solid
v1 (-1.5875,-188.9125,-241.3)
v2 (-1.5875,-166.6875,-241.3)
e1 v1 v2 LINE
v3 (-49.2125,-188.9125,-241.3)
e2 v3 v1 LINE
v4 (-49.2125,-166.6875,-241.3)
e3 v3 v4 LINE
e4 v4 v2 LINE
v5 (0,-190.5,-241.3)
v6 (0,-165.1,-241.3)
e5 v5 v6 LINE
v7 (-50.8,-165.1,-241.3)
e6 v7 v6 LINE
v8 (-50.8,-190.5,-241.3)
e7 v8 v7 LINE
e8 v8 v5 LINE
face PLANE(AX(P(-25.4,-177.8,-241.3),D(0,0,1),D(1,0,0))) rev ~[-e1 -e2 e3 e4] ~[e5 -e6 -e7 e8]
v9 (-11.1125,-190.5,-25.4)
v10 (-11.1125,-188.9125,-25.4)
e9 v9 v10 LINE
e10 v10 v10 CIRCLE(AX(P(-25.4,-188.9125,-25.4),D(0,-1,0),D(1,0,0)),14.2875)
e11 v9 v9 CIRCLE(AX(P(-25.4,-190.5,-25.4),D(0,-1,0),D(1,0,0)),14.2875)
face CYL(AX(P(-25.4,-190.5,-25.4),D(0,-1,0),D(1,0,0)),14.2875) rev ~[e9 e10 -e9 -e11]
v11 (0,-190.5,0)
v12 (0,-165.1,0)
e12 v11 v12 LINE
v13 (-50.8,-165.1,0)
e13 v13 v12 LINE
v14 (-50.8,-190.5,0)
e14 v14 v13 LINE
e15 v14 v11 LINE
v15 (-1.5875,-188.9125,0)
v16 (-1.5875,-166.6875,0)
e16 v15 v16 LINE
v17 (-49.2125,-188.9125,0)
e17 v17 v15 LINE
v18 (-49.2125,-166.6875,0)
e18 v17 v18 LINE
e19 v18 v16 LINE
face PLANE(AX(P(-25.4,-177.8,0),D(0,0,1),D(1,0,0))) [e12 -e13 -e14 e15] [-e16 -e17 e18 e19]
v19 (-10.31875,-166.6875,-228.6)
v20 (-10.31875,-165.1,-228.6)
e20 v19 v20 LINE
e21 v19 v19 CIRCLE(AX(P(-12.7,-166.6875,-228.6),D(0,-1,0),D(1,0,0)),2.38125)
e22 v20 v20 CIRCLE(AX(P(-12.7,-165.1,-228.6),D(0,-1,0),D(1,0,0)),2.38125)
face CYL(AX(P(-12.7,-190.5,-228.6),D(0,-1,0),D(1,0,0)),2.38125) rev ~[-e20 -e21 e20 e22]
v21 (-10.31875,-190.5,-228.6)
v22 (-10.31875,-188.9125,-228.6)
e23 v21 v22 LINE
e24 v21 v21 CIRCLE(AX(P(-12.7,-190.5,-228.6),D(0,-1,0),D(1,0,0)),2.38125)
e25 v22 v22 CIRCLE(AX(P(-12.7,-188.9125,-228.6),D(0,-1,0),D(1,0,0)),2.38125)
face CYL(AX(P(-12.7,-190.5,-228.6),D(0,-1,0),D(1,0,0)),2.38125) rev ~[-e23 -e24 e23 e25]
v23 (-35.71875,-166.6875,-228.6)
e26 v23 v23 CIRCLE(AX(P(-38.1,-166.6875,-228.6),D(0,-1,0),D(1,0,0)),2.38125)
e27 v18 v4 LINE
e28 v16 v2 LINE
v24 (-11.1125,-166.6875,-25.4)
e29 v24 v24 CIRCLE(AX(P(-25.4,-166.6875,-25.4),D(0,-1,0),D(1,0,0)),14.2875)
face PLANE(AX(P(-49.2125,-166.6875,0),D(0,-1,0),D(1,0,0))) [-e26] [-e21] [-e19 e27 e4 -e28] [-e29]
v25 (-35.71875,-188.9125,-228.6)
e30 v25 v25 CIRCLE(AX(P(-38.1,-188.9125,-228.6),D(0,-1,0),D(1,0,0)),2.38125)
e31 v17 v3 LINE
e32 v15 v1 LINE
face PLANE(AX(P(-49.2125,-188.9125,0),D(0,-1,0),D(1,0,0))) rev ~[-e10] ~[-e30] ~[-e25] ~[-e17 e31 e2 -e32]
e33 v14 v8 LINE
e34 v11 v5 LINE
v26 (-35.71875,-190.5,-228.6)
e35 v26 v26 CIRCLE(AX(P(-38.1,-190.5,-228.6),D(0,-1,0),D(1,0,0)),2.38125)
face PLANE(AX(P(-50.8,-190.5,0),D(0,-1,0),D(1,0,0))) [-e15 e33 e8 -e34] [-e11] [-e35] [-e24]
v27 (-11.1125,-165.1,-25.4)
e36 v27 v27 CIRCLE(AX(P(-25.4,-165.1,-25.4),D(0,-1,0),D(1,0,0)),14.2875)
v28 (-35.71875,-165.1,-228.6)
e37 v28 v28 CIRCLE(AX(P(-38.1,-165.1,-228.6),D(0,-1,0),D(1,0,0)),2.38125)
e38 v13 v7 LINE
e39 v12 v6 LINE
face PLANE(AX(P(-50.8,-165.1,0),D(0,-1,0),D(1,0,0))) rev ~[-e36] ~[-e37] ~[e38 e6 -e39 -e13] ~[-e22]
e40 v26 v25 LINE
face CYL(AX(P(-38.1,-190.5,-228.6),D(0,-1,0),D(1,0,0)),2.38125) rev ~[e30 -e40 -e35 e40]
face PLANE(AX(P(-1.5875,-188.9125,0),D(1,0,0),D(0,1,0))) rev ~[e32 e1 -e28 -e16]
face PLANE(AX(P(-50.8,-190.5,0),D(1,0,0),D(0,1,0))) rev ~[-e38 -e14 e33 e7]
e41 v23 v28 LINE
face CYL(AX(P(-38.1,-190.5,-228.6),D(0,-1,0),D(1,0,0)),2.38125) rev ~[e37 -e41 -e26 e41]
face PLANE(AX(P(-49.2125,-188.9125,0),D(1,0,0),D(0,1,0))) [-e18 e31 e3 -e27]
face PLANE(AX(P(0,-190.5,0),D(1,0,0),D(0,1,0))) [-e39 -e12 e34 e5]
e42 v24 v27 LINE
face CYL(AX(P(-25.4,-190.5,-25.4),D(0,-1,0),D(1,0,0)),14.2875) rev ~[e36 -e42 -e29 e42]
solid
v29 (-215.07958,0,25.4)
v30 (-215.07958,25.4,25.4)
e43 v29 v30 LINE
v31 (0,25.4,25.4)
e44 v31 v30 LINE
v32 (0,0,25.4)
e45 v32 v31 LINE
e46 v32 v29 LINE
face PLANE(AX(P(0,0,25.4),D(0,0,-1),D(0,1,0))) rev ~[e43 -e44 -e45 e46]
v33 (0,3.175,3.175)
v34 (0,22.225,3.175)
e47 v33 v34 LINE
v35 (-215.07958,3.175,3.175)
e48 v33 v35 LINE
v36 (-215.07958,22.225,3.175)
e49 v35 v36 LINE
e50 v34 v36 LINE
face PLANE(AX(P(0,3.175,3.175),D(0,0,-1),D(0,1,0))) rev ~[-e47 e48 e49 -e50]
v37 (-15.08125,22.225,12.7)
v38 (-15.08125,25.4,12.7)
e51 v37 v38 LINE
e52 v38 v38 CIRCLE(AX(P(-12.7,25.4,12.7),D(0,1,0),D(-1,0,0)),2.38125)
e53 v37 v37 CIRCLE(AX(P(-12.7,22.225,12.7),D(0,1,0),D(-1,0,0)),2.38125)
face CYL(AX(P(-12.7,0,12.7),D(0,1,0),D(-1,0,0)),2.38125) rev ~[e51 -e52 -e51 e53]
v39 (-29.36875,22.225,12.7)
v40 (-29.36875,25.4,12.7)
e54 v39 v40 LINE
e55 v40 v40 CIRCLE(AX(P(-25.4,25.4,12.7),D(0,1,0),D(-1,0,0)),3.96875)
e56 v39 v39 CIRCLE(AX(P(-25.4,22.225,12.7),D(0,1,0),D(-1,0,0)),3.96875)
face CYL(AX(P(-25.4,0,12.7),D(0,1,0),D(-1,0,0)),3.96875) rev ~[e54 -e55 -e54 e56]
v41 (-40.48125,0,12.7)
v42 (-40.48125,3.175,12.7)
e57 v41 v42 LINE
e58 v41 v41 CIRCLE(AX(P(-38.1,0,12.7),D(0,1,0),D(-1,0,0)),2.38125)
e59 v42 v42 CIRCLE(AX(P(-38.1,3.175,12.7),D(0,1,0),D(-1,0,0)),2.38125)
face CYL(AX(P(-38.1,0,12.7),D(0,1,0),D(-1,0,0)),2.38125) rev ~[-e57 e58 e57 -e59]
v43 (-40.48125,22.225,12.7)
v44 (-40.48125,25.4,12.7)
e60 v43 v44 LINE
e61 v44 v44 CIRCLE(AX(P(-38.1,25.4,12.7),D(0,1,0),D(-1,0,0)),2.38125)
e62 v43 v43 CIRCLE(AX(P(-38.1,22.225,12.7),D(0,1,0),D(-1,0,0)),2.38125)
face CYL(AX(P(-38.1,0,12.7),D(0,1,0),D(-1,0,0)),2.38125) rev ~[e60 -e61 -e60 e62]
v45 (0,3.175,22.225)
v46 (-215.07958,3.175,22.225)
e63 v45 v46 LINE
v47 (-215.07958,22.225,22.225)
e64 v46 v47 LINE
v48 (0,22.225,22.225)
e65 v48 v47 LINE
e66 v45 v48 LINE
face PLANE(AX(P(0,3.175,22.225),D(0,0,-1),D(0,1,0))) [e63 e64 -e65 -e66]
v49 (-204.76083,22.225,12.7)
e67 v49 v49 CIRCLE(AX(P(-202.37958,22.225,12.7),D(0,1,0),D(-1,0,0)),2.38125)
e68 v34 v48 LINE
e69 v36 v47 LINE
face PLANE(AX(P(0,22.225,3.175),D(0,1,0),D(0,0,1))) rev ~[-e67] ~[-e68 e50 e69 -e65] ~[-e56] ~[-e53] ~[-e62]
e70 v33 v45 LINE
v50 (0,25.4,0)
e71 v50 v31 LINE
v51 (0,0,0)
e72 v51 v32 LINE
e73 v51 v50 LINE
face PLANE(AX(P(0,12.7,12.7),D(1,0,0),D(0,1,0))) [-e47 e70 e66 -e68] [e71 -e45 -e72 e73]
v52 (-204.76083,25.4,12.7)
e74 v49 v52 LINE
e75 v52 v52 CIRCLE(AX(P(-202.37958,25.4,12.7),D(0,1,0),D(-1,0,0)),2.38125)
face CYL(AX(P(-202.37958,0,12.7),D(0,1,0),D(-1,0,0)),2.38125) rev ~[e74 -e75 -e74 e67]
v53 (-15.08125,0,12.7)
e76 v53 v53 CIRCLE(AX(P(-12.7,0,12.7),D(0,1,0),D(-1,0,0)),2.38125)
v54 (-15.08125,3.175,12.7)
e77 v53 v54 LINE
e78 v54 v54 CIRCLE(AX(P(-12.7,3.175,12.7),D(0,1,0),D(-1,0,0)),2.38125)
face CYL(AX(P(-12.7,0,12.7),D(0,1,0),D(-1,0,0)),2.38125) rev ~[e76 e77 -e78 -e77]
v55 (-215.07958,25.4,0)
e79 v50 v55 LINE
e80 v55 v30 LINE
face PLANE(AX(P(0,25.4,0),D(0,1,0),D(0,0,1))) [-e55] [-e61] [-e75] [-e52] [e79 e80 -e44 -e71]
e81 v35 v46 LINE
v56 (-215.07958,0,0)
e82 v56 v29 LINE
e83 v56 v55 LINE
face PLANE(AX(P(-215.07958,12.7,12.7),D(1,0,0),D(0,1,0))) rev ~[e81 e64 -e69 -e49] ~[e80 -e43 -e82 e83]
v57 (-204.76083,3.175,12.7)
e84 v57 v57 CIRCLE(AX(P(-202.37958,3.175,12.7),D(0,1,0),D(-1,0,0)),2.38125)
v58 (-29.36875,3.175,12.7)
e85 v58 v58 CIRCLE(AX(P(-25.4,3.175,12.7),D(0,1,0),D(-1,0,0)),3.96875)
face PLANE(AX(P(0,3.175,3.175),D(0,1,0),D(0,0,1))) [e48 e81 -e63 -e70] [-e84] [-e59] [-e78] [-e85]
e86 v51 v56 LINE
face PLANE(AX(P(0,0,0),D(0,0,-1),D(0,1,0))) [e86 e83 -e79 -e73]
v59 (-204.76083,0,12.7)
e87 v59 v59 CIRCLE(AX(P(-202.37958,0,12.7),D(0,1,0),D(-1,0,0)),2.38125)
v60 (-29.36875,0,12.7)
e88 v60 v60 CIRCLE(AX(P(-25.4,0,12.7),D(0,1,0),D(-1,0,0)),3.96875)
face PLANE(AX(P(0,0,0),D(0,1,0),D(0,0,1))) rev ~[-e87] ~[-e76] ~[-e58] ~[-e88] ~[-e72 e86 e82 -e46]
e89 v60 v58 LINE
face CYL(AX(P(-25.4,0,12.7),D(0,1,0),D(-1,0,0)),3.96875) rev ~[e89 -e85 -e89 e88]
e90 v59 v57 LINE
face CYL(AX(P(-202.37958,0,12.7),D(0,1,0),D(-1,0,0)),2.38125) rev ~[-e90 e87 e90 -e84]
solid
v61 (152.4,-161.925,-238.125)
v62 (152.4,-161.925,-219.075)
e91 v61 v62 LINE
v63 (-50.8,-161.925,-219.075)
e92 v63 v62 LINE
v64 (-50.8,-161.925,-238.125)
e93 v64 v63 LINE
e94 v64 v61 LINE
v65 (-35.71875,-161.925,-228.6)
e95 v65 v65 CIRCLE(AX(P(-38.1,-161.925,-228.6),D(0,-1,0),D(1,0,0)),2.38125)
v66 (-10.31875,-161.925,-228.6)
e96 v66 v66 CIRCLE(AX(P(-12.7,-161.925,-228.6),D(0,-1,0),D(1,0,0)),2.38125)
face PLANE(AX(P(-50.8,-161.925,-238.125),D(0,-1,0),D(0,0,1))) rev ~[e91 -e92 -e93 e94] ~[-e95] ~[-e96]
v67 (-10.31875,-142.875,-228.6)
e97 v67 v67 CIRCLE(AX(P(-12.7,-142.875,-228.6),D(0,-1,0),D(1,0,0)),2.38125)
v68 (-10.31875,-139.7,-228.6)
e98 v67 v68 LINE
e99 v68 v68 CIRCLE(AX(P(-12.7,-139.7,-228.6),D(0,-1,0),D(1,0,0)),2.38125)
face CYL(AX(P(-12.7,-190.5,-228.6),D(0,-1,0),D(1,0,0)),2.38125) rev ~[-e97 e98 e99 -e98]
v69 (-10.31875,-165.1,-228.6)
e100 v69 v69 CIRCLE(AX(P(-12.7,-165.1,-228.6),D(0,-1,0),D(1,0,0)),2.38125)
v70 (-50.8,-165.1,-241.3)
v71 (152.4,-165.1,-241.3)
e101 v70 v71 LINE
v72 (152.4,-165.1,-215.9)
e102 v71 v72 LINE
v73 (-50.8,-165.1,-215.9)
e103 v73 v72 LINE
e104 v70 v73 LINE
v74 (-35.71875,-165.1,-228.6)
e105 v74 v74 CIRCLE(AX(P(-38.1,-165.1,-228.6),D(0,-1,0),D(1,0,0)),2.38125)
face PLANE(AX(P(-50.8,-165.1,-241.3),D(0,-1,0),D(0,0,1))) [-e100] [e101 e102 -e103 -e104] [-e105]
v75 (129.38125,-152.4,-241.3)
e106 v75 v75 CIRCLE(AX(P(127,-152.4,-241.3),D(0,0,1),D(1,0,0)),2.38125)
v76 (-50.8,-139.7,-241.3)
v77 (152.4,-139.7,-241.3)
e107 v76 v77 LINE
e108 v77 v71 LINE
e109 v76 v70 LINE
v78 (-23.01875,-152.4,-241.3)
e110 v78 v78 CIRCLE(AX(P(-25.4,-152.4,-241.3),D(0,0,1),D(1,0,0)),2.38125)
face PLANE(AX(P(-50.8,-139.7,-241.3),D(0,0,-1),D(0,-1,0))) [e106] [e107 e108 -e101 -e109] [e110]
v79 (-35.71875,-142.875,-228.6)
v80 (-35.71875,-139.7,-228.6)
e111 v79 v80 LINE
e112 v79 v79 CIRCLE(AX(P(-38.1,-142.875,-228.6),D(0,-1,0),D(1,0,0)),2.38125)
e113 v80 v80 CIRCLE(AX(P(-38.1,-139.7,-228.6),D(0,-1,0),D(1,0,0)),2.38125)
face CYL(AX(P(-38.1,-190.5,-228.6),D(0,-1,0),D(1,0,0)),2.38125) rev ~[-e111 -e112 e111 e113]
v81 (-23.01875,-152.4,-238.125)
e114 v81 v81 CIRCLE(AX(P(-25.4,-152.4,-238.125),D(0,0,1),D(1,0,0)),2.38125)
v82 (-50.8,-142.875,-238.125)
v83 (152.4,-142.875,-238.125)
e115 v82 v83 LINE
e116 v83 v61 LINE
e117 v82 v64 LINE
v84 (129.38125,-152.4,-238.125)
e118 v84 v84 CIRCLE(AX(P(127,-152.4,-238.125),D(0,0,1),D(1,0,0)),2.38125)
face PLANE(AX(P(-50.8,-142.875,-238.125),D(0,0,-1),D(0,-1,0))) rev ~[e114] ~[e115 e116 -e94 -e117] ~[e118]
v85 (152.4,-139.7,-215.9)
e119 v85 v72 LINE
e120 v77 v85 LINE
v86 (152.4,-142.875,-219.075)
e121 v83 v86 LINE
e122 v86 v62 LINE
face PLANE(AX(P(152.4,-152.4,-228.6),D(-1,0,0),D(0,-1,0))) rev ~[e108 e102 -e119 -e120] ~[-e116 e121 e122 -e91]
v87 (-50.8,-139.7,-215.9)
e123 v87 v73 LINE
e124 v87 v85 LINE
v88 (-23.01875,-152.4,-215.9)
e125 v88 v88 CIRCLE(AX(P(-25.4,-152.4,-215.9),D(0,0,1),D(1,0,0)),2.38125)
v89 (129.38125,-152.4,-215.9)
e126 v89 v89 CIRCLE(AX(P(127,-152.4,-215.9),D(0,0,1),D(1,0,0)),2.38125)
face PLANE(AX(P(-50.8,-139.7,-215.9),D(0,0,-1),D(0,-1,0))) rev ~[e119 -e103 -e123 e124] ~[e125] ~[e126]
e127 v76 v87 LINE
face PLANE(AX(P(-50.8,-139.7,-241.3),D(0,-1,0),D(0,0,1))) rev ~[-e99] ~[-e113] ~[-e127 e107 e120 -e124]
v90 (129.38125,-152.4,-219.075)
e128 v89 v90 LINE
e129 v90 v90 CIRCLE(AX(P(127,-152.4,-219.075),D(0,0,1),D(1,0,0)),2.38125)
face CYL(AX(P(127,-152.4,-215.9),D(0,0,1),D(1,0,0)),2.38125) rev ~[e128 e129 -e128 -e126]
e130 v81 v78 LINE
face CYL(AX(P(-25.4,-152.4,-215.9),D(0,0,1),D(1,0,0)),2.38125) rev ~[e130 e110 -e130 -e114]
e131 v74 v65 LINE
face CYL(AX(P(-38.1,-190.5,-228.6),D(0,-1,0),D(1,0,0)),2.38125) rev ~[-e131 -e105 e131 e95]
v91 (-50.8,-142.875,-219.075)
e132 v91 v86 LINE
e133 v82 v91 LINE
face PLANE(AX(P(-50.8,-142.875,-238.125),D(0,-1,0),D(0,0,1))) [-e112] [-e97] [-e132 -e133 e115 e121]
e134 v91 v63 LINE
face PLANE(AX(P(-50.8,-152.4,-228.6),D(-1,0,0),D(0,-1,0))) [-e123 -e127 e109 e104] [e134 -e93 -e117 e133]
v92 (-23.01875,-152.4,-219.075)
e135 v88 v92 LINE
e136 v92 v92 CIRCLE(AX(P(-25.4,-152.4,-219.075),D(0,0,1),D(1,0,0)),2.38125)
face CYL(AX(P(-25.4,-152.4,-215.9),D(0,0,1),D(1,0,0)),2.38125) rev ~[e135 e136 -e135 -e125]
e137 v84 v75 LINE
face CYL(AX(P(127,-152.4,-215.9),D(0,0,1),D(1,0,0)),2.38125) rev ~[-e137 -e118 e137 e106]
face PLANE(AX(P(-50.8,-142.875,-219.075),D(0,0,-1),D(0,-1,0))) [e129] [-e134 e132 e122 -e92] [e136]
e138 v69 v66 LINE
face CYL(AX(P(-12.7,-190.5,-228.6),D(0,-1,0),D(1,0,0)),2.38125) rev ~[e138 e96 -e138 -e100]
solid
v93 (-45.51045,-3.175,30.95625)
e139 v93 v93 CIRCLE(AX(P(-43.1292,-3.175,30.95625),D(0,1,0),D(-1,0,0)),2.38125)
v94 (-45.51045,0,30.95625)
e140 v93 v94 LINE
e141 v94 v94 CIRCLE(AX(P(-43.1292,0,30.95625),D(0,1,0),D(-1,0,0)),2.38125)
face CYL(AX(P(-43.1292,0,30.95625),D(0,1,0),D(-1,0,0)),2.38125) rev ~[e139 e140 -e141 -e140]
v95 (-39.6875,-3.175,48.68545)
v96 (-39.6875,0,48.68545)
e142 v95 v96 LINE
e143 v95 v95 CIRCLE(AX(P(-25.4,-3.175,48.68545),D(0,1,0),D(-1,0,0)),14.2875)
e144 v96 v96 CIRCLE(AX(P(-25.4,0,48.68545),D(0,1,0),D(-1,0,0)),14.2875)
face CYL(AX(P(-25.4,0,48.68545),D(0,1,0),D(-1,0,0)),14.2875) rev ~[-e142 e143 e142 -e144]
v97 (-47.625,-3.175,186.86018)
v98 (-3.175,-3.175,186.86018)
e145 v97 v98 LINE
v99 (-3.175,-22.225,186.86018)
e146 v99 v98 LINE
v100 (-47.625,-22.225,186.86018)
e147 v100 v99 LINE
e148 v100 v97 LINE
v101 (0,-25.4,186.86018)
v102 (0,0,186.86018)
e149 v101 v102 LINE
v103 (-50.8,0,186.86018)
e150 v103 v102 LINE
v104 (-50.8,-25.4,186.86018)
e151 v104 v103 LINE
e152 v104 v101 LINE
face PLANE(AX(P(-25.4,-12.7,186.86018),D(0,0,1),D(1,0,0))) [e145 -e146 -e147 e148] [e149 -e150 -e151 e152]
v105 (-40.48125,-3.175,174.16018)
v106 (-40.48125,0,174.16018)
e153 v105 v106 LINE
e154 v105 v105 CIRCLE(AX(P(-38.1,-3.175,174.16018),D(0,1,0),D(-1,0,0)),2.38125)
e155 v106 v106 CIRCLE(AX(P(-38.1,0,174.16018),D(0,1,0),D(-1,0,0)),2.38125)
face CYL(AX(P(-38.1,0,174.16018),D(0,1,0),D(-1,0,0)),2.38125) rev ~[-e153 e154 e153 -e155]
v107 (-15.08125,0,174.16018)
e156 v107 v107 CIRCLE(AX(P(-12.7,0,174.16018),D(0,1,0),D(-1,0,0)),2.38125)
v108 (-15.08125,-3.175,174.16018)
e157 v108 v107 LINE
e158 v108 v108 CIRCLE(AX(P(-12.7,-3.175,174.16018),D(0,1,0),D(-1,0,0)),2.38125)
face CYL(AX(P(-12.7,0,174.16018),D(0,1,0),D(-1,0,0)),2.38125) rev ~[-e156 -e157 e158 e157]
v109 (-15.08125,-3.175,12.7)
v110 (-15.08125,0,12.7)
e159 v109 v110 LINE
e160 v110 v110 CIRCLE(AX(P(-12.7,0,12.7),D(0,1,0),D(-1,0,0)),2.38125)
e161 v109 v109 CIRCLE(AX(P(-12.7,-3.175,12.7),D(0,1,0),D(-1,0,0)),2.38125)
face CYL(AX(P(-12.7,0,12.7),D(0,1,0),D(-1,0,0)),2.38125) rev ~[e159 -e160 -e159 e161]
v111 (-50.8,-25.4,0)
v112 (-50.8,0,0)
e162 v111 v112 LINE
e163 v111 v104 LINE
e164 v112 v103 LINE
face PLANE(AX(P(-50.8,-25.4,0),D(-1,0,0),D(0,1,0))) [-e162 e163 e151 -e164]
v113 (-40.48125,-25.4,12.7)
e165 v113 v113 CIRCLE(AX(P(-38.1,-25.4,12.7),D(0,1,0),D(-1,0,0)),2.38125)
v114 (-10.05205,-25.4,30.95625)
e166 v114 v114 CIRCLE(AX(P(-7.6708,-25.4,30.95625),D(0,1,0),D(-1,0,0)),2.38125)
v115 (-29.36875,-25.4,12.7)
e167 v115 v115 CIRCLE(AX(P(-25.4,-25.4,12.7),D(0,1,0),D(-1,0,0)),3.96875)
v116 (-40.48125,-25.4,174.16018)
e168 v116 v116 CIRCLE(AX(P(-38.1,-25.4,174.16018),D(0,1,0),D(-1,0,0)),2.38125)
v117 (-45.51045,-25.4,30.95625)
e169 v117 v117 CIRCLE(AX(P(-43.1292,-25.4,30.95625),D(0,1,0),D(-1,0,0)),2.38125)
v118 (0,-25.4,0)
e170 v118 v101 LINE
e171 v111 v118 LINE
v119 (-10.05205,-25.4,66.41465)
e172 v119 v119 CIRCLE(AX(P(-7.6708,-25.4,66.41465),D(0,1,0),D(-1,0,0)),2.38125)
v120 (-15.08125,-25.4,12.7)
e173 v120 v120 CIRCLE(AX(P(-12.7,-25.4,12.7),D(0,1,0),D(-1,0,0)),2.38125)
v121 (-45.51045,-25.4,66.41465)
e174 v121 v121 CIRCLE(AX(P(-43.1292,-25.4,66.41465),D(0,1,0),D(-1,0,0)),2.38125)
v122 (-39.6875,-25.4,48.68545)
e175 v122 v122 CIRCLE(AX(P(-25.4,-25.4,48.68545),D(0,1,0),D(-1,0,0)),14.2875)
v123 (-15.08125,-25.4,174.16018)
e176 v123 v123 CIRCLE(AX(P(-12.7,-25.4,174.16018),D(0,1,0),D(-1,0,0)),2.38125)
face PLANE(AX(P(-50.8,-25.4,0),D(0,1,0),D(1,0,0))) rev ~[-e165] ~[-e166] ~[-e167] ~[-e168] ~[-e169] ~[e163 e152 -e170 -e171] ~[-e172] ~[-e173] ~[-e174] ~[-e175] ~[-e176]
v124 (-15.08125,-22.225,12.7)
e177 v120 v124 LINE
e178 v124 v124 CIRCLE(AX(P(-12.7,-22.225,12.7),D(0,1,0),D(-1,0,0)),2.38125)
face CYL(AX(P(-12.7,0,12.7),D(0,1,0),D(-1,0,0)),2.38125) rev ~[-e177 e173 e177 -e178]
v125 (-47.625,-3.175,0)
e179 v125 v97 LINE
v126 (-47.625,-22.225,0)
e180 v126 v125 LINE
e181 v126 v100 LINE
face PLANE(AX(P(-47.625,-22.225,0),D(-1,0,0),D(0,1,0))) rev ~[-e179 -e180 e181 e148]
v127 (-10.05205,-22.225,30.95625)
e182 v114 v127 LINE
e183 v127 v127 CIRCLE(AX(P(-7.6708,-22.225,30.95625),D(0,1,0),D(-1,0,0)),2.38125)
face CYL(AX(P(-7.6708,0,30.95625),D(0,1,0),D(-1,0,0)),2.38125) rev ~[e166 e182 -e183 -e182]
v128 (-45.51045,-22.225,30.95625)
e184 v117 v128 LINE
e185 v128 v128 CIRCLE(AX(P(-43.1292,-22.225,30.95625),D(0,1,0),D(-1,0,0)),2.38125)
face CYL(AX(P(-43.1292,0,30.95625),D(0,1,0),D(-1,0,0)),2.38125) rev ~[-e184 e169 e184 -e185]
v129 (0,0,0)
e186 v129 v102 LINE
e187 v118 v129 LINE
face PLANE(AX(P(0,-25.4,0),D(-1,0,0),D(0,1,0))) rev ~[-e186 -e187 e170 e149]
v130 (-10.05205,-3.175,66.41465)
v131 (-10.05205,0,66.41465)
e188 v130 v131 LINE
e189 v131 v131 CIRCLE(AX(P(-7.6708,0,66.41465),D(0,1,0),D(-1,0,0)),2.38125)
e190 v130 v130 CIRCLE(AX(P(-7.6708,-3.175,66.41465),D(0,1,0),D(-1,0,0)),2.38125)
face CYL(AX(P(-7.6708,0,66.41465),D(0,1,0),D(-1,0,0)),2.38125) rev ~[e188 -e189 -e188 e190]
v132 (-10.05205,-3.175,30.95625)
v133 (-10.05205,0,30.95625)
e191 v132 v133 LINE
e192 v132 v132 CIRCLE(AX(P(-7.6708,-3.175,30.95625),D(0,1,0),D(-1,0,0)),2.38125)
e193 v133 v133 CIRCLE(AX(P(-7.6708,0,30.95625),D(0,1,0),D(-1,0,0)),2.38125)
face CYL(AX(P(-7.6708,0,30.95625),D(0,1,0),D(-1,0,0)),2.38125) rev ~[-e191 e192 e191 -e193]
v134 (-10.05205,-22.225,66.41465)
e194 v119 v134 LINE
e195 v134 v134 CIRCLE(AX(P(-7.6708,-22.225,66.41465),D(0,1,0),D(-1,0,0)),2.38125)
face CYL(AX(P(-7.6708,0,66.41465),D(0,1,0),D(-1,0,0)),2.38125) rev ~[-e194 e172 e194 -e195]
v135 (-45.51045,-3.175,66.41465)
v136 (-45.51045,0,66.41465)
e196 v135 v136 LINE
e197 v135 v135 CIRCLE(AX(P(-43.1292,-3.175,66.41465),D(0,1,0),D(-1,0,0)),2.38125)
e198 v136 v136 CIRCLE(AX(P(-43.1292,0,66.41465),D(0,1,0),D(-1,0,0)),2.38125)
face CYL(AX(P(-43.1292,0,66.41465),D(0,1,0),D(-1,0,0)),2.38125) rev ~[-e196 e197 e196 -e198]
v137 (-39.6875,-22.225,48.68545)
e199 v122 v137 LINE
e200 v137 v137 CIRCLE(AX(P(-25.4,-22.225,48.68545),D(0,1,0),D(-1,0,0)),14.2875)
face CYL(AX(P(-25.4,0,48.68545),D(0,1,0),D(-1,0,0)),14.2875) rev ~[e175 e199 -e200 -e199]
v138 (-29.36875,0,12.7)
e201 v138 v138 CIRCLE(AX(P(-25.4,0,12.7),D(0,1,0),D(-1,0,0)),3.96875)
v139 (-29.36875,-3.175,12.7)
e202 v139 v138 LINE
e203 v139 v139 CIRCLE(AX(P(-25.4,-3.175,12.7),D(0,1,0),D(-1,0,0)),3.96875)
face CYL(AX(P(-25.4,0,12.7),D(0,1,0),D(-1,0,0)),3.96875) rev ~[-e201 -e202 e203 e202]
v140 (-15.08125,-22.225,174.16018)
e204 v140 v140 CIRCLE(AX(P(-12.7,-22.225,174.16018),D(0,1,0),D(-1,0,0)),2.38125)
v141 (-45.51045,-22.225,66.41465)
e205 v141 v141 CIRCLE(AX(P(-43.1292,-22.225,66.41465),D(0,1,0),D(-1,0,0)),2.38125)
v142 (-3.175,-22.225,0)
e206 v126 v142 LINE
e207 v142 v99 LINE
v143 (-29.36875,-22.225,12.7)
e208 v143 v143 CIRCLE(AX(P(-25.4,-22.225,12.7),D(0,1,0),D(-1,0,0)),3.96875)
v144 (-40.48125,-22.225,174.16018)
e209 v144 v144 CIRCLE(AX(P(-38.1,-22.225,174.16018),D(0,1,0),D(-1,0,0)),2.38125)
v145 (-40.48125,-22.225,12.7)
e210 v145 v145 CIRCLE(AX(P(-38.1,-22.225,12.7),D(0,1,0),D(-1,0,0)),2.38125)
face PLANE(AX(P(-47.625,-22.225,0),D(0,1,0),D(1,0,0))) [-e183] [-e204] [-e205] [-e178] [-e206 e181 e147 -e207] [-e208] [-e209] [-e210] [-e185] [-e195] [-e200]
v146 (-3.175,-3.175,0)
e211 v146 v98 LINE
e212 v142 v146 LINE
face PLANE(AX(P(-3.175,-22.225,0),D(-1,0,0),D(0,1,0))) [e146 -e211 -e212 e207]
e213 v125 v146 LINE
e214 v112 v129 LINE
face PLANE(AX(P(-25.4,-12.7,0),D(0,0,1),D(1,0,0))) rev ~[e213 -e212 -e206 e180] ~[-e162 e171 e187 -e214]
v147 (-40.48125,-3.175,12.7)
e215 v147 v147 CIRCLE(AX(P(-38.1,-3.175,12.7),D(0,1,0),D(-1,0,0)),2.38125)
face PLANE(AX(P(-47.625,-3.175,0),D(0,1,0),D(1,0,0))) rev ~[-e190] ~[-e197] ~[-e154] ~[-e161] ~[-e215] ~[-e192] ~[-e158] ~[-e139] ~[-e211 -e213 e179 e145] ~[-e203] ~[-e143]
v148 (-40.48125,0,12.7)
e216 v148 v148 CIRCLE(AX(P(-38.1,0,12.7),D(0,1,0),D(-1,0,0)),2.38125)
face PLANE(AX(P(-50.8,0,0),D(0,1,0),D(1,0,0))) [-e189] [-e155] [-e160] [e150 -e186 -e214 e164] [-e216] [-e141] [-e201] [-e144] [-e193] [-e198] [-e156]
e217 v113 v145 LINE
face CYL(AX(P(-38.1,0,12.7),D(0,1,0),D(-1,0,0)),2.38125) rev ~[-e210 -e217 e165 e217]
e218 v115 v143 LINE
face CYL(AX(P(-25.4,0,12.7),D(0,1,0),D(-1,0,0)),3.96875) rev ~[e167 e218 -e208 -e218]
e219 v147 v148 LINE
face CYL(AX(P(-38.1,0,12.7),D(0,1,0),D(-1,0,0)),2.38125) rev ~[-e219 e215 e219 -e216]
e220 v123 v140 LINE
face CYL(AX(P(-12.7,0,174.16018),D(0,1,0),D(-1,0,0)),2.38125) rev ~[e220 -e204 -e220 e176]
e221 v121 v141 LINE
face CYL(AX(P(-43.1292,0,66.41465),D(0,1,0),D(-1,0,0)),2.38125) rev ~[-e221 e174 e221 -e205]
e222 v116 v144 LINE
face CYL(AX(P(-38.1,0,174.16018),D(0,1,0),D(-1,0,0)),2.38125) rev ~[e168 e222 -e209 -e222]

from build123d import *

# Parameters (mm, degrees)
F0_W          = 50.8
F0_H          = 25.4
F0_W_2        = 44.45
F0_H_2        = 19.05
F1_DEPTH      = 186.86018
F2_W          = 25.4
F2_H          = 25.4
F2_W_2        = 19.05
F2_H_2        = 19.05
F3_DEPTH      = 215.07958
F4_R          = 14.2875
F4_R_2        = 2.38125
F4_R_3        = 3.96875
F5_DEPTH      = 25.401
F5_DEPTH_BACK = 25.4
F0_W_3        = 47.625
F0_H_3        = 22.225
F6_DEPTH      = 241.3
F7_R          = 14.2875
F8_DEPTH      = 215.901
F9_W          = 25.4
F9_H          = 25.4
F9_W_2        = 19.05
F9_H_2        = 19.05
F10_DEPTH     = 203.2
F11_R         = 2.38125
F12_DEPTH     = 215.901
F13_R         = 2.38125
F14_DEPTH     = 25.401


with BuildPart() as f1:
    # F0 (on Top) → F1 (new body)
    with BuildSketch(Plane.XY):
        with Locations((-25.4, -12.7)):
            Rectangle(F0_W, F0_H)
        with Locations((-25.4, -12.7)):
            Rectangle(F0_W_2, F0_H_2, mode=Mode.SUBTRACT)
    extrude(amount=F1_DEPTH)


with BuildPart() as f3:
    # F2 (on Right) → F3 (new body)
    with BuildSketch(Plane.YZ):
        with Locations((12.7, 12.7)):
            Rectangle(F2_W, F2_H)
        with Locations((12.7, 12.7)):
            Rectangle(F2_W_2, F2_H_2, mode=Mode.SUBTRACT)
    extrude(amount=-F3_DEPTH)


with BuildPart() as f5_tool:
    # F4 (on face) → F5 (new body, two sides)
    with BuildSketch(Plane(origin=(0, 0, 0), x_dir=(-1, 0, 0), z_dir=(0, 1, 0))) as f5_sk:
        with Locations((25.4, 48.68545)):
            Circle(F4_R)
        with Locations((7.6708, 66.41465)):
            Circle(F4_R_2)
        with Locations((43.1292, 66.41465)):
            Circle(F4_R_2)
        with Locations((43.1292, 30.95625)):
            Circle(F4_R_2)
        with Locations((7.6708, 30.95625)):
            Circle(F4_R_2)
        with Locations((38.1, 12.7)):
            Circle(F4_R_2)
        with Locations((25.4, 12.7)):
            Circle(F4_R_3)
        with Locations((12.7, 12.7)):
            Circle(F4_R_2)
        with Locations((38.1, 174.16018)):
            Circle(F4_R_2)
        with Locations((12.7, 174.16018)):
            Circle(F4_R_2)
        with Locations((227.77958, 12.7)):
            Circle(F4_R_2)
        with Locations((202.37958, 12.7)):
            Circle(F4_R_2)
    extrude(amount=F5_DEPTH)
    extrude(f5_sk.sketch, amount=-F5_DEPTH_BACK)


with BuildPart() as f1_1:
    add(f1.part)

    # F5: cut by f5_tool
    add(f5_tool.part, mode=Mode.SUBTRACT)


with BuildPart() as f3_1:
    add(f3.part)

    # F5: cut by f5_tool
    add(f5_tool.part, mode=Mode.SUBTRACT)


with BuildPart() as f6:
    # F0 (on Top) → F6 (new body)
    with BuildSketch(Plane.XY):
        with Locations((-25.4, -177.8)):
            Rectangle(F0_W, F0_H)
        with Locations((-25.4, -177.8)):
            Rectangle(F0_W_3, F0_H_3, mode=Mode.SUBTRACT)
    extrude(amount=-F6_DEPTH)

    # F7 (on face) → F8 (cut, through all)
    with BuildSketch(Plane.XZ.offset(190.5)):
        with Locations((-25.4, -25.4)):
            Circle(F7_R)
    extrude(amount=-F8_DEPTH, mode=Mode.SUBTRACT)


with BuildPart() as f10:
    # F9 (on face) → F10 (new body)
    with BuildSketch(Plane(origin=(-50.8, 0, 0), x_dir=(0, -1, 0), z_dir=(-1, 0, 0))):
        with Locations((152.4, -228.6)):
            Rectangle(F9_W, F9_H)
        with Locations((152.4, -228.6)):
            Rectangle(F9_W_2, F9_H_2, mode=Mode.SUBTRACT)
    extrude(amount=-F10_DEPTH)


with BuildPart() as f12_tool:
    # F11 (on face) → F12 (new body, through all)
    with BuildSketch(Plane.XZ.offset(190.5)):
        with Locations((-38.1, -228.6)):
            Circle(F11_R)
        with Locations((-12.7, -228.6)):
            Circle(F11_R)
    extrude(amount=-F12_DEPTH)


with BuildPart() as f6_1:
    add(f6.part)

    # F12: cut by f12_tool
    add(f12_tool.part, mode=Mode.SUBTRACT)


with BuildPart() as f10_1:
    add(f10.part)

    # F12: cut by f12_tool
    add(f12_tool.part, mode=Mode.SUBTRACT)

    # F13 (on face) → F14 (cut, through all)
    with BuildSketch(Plane.XY.offset(-215.9)):
        with Locations((-25.4, -152.4)):
            Circle(F13_R)
        with Locations((127, -152.4)):
            Circle(F13_R)
    extrude(amount=-F14_DEPTH, mode=Mode.SUBTRACT)


solid = Compound([f1_1.part, f3_1.part, f6_1.part, f10_1.part])
